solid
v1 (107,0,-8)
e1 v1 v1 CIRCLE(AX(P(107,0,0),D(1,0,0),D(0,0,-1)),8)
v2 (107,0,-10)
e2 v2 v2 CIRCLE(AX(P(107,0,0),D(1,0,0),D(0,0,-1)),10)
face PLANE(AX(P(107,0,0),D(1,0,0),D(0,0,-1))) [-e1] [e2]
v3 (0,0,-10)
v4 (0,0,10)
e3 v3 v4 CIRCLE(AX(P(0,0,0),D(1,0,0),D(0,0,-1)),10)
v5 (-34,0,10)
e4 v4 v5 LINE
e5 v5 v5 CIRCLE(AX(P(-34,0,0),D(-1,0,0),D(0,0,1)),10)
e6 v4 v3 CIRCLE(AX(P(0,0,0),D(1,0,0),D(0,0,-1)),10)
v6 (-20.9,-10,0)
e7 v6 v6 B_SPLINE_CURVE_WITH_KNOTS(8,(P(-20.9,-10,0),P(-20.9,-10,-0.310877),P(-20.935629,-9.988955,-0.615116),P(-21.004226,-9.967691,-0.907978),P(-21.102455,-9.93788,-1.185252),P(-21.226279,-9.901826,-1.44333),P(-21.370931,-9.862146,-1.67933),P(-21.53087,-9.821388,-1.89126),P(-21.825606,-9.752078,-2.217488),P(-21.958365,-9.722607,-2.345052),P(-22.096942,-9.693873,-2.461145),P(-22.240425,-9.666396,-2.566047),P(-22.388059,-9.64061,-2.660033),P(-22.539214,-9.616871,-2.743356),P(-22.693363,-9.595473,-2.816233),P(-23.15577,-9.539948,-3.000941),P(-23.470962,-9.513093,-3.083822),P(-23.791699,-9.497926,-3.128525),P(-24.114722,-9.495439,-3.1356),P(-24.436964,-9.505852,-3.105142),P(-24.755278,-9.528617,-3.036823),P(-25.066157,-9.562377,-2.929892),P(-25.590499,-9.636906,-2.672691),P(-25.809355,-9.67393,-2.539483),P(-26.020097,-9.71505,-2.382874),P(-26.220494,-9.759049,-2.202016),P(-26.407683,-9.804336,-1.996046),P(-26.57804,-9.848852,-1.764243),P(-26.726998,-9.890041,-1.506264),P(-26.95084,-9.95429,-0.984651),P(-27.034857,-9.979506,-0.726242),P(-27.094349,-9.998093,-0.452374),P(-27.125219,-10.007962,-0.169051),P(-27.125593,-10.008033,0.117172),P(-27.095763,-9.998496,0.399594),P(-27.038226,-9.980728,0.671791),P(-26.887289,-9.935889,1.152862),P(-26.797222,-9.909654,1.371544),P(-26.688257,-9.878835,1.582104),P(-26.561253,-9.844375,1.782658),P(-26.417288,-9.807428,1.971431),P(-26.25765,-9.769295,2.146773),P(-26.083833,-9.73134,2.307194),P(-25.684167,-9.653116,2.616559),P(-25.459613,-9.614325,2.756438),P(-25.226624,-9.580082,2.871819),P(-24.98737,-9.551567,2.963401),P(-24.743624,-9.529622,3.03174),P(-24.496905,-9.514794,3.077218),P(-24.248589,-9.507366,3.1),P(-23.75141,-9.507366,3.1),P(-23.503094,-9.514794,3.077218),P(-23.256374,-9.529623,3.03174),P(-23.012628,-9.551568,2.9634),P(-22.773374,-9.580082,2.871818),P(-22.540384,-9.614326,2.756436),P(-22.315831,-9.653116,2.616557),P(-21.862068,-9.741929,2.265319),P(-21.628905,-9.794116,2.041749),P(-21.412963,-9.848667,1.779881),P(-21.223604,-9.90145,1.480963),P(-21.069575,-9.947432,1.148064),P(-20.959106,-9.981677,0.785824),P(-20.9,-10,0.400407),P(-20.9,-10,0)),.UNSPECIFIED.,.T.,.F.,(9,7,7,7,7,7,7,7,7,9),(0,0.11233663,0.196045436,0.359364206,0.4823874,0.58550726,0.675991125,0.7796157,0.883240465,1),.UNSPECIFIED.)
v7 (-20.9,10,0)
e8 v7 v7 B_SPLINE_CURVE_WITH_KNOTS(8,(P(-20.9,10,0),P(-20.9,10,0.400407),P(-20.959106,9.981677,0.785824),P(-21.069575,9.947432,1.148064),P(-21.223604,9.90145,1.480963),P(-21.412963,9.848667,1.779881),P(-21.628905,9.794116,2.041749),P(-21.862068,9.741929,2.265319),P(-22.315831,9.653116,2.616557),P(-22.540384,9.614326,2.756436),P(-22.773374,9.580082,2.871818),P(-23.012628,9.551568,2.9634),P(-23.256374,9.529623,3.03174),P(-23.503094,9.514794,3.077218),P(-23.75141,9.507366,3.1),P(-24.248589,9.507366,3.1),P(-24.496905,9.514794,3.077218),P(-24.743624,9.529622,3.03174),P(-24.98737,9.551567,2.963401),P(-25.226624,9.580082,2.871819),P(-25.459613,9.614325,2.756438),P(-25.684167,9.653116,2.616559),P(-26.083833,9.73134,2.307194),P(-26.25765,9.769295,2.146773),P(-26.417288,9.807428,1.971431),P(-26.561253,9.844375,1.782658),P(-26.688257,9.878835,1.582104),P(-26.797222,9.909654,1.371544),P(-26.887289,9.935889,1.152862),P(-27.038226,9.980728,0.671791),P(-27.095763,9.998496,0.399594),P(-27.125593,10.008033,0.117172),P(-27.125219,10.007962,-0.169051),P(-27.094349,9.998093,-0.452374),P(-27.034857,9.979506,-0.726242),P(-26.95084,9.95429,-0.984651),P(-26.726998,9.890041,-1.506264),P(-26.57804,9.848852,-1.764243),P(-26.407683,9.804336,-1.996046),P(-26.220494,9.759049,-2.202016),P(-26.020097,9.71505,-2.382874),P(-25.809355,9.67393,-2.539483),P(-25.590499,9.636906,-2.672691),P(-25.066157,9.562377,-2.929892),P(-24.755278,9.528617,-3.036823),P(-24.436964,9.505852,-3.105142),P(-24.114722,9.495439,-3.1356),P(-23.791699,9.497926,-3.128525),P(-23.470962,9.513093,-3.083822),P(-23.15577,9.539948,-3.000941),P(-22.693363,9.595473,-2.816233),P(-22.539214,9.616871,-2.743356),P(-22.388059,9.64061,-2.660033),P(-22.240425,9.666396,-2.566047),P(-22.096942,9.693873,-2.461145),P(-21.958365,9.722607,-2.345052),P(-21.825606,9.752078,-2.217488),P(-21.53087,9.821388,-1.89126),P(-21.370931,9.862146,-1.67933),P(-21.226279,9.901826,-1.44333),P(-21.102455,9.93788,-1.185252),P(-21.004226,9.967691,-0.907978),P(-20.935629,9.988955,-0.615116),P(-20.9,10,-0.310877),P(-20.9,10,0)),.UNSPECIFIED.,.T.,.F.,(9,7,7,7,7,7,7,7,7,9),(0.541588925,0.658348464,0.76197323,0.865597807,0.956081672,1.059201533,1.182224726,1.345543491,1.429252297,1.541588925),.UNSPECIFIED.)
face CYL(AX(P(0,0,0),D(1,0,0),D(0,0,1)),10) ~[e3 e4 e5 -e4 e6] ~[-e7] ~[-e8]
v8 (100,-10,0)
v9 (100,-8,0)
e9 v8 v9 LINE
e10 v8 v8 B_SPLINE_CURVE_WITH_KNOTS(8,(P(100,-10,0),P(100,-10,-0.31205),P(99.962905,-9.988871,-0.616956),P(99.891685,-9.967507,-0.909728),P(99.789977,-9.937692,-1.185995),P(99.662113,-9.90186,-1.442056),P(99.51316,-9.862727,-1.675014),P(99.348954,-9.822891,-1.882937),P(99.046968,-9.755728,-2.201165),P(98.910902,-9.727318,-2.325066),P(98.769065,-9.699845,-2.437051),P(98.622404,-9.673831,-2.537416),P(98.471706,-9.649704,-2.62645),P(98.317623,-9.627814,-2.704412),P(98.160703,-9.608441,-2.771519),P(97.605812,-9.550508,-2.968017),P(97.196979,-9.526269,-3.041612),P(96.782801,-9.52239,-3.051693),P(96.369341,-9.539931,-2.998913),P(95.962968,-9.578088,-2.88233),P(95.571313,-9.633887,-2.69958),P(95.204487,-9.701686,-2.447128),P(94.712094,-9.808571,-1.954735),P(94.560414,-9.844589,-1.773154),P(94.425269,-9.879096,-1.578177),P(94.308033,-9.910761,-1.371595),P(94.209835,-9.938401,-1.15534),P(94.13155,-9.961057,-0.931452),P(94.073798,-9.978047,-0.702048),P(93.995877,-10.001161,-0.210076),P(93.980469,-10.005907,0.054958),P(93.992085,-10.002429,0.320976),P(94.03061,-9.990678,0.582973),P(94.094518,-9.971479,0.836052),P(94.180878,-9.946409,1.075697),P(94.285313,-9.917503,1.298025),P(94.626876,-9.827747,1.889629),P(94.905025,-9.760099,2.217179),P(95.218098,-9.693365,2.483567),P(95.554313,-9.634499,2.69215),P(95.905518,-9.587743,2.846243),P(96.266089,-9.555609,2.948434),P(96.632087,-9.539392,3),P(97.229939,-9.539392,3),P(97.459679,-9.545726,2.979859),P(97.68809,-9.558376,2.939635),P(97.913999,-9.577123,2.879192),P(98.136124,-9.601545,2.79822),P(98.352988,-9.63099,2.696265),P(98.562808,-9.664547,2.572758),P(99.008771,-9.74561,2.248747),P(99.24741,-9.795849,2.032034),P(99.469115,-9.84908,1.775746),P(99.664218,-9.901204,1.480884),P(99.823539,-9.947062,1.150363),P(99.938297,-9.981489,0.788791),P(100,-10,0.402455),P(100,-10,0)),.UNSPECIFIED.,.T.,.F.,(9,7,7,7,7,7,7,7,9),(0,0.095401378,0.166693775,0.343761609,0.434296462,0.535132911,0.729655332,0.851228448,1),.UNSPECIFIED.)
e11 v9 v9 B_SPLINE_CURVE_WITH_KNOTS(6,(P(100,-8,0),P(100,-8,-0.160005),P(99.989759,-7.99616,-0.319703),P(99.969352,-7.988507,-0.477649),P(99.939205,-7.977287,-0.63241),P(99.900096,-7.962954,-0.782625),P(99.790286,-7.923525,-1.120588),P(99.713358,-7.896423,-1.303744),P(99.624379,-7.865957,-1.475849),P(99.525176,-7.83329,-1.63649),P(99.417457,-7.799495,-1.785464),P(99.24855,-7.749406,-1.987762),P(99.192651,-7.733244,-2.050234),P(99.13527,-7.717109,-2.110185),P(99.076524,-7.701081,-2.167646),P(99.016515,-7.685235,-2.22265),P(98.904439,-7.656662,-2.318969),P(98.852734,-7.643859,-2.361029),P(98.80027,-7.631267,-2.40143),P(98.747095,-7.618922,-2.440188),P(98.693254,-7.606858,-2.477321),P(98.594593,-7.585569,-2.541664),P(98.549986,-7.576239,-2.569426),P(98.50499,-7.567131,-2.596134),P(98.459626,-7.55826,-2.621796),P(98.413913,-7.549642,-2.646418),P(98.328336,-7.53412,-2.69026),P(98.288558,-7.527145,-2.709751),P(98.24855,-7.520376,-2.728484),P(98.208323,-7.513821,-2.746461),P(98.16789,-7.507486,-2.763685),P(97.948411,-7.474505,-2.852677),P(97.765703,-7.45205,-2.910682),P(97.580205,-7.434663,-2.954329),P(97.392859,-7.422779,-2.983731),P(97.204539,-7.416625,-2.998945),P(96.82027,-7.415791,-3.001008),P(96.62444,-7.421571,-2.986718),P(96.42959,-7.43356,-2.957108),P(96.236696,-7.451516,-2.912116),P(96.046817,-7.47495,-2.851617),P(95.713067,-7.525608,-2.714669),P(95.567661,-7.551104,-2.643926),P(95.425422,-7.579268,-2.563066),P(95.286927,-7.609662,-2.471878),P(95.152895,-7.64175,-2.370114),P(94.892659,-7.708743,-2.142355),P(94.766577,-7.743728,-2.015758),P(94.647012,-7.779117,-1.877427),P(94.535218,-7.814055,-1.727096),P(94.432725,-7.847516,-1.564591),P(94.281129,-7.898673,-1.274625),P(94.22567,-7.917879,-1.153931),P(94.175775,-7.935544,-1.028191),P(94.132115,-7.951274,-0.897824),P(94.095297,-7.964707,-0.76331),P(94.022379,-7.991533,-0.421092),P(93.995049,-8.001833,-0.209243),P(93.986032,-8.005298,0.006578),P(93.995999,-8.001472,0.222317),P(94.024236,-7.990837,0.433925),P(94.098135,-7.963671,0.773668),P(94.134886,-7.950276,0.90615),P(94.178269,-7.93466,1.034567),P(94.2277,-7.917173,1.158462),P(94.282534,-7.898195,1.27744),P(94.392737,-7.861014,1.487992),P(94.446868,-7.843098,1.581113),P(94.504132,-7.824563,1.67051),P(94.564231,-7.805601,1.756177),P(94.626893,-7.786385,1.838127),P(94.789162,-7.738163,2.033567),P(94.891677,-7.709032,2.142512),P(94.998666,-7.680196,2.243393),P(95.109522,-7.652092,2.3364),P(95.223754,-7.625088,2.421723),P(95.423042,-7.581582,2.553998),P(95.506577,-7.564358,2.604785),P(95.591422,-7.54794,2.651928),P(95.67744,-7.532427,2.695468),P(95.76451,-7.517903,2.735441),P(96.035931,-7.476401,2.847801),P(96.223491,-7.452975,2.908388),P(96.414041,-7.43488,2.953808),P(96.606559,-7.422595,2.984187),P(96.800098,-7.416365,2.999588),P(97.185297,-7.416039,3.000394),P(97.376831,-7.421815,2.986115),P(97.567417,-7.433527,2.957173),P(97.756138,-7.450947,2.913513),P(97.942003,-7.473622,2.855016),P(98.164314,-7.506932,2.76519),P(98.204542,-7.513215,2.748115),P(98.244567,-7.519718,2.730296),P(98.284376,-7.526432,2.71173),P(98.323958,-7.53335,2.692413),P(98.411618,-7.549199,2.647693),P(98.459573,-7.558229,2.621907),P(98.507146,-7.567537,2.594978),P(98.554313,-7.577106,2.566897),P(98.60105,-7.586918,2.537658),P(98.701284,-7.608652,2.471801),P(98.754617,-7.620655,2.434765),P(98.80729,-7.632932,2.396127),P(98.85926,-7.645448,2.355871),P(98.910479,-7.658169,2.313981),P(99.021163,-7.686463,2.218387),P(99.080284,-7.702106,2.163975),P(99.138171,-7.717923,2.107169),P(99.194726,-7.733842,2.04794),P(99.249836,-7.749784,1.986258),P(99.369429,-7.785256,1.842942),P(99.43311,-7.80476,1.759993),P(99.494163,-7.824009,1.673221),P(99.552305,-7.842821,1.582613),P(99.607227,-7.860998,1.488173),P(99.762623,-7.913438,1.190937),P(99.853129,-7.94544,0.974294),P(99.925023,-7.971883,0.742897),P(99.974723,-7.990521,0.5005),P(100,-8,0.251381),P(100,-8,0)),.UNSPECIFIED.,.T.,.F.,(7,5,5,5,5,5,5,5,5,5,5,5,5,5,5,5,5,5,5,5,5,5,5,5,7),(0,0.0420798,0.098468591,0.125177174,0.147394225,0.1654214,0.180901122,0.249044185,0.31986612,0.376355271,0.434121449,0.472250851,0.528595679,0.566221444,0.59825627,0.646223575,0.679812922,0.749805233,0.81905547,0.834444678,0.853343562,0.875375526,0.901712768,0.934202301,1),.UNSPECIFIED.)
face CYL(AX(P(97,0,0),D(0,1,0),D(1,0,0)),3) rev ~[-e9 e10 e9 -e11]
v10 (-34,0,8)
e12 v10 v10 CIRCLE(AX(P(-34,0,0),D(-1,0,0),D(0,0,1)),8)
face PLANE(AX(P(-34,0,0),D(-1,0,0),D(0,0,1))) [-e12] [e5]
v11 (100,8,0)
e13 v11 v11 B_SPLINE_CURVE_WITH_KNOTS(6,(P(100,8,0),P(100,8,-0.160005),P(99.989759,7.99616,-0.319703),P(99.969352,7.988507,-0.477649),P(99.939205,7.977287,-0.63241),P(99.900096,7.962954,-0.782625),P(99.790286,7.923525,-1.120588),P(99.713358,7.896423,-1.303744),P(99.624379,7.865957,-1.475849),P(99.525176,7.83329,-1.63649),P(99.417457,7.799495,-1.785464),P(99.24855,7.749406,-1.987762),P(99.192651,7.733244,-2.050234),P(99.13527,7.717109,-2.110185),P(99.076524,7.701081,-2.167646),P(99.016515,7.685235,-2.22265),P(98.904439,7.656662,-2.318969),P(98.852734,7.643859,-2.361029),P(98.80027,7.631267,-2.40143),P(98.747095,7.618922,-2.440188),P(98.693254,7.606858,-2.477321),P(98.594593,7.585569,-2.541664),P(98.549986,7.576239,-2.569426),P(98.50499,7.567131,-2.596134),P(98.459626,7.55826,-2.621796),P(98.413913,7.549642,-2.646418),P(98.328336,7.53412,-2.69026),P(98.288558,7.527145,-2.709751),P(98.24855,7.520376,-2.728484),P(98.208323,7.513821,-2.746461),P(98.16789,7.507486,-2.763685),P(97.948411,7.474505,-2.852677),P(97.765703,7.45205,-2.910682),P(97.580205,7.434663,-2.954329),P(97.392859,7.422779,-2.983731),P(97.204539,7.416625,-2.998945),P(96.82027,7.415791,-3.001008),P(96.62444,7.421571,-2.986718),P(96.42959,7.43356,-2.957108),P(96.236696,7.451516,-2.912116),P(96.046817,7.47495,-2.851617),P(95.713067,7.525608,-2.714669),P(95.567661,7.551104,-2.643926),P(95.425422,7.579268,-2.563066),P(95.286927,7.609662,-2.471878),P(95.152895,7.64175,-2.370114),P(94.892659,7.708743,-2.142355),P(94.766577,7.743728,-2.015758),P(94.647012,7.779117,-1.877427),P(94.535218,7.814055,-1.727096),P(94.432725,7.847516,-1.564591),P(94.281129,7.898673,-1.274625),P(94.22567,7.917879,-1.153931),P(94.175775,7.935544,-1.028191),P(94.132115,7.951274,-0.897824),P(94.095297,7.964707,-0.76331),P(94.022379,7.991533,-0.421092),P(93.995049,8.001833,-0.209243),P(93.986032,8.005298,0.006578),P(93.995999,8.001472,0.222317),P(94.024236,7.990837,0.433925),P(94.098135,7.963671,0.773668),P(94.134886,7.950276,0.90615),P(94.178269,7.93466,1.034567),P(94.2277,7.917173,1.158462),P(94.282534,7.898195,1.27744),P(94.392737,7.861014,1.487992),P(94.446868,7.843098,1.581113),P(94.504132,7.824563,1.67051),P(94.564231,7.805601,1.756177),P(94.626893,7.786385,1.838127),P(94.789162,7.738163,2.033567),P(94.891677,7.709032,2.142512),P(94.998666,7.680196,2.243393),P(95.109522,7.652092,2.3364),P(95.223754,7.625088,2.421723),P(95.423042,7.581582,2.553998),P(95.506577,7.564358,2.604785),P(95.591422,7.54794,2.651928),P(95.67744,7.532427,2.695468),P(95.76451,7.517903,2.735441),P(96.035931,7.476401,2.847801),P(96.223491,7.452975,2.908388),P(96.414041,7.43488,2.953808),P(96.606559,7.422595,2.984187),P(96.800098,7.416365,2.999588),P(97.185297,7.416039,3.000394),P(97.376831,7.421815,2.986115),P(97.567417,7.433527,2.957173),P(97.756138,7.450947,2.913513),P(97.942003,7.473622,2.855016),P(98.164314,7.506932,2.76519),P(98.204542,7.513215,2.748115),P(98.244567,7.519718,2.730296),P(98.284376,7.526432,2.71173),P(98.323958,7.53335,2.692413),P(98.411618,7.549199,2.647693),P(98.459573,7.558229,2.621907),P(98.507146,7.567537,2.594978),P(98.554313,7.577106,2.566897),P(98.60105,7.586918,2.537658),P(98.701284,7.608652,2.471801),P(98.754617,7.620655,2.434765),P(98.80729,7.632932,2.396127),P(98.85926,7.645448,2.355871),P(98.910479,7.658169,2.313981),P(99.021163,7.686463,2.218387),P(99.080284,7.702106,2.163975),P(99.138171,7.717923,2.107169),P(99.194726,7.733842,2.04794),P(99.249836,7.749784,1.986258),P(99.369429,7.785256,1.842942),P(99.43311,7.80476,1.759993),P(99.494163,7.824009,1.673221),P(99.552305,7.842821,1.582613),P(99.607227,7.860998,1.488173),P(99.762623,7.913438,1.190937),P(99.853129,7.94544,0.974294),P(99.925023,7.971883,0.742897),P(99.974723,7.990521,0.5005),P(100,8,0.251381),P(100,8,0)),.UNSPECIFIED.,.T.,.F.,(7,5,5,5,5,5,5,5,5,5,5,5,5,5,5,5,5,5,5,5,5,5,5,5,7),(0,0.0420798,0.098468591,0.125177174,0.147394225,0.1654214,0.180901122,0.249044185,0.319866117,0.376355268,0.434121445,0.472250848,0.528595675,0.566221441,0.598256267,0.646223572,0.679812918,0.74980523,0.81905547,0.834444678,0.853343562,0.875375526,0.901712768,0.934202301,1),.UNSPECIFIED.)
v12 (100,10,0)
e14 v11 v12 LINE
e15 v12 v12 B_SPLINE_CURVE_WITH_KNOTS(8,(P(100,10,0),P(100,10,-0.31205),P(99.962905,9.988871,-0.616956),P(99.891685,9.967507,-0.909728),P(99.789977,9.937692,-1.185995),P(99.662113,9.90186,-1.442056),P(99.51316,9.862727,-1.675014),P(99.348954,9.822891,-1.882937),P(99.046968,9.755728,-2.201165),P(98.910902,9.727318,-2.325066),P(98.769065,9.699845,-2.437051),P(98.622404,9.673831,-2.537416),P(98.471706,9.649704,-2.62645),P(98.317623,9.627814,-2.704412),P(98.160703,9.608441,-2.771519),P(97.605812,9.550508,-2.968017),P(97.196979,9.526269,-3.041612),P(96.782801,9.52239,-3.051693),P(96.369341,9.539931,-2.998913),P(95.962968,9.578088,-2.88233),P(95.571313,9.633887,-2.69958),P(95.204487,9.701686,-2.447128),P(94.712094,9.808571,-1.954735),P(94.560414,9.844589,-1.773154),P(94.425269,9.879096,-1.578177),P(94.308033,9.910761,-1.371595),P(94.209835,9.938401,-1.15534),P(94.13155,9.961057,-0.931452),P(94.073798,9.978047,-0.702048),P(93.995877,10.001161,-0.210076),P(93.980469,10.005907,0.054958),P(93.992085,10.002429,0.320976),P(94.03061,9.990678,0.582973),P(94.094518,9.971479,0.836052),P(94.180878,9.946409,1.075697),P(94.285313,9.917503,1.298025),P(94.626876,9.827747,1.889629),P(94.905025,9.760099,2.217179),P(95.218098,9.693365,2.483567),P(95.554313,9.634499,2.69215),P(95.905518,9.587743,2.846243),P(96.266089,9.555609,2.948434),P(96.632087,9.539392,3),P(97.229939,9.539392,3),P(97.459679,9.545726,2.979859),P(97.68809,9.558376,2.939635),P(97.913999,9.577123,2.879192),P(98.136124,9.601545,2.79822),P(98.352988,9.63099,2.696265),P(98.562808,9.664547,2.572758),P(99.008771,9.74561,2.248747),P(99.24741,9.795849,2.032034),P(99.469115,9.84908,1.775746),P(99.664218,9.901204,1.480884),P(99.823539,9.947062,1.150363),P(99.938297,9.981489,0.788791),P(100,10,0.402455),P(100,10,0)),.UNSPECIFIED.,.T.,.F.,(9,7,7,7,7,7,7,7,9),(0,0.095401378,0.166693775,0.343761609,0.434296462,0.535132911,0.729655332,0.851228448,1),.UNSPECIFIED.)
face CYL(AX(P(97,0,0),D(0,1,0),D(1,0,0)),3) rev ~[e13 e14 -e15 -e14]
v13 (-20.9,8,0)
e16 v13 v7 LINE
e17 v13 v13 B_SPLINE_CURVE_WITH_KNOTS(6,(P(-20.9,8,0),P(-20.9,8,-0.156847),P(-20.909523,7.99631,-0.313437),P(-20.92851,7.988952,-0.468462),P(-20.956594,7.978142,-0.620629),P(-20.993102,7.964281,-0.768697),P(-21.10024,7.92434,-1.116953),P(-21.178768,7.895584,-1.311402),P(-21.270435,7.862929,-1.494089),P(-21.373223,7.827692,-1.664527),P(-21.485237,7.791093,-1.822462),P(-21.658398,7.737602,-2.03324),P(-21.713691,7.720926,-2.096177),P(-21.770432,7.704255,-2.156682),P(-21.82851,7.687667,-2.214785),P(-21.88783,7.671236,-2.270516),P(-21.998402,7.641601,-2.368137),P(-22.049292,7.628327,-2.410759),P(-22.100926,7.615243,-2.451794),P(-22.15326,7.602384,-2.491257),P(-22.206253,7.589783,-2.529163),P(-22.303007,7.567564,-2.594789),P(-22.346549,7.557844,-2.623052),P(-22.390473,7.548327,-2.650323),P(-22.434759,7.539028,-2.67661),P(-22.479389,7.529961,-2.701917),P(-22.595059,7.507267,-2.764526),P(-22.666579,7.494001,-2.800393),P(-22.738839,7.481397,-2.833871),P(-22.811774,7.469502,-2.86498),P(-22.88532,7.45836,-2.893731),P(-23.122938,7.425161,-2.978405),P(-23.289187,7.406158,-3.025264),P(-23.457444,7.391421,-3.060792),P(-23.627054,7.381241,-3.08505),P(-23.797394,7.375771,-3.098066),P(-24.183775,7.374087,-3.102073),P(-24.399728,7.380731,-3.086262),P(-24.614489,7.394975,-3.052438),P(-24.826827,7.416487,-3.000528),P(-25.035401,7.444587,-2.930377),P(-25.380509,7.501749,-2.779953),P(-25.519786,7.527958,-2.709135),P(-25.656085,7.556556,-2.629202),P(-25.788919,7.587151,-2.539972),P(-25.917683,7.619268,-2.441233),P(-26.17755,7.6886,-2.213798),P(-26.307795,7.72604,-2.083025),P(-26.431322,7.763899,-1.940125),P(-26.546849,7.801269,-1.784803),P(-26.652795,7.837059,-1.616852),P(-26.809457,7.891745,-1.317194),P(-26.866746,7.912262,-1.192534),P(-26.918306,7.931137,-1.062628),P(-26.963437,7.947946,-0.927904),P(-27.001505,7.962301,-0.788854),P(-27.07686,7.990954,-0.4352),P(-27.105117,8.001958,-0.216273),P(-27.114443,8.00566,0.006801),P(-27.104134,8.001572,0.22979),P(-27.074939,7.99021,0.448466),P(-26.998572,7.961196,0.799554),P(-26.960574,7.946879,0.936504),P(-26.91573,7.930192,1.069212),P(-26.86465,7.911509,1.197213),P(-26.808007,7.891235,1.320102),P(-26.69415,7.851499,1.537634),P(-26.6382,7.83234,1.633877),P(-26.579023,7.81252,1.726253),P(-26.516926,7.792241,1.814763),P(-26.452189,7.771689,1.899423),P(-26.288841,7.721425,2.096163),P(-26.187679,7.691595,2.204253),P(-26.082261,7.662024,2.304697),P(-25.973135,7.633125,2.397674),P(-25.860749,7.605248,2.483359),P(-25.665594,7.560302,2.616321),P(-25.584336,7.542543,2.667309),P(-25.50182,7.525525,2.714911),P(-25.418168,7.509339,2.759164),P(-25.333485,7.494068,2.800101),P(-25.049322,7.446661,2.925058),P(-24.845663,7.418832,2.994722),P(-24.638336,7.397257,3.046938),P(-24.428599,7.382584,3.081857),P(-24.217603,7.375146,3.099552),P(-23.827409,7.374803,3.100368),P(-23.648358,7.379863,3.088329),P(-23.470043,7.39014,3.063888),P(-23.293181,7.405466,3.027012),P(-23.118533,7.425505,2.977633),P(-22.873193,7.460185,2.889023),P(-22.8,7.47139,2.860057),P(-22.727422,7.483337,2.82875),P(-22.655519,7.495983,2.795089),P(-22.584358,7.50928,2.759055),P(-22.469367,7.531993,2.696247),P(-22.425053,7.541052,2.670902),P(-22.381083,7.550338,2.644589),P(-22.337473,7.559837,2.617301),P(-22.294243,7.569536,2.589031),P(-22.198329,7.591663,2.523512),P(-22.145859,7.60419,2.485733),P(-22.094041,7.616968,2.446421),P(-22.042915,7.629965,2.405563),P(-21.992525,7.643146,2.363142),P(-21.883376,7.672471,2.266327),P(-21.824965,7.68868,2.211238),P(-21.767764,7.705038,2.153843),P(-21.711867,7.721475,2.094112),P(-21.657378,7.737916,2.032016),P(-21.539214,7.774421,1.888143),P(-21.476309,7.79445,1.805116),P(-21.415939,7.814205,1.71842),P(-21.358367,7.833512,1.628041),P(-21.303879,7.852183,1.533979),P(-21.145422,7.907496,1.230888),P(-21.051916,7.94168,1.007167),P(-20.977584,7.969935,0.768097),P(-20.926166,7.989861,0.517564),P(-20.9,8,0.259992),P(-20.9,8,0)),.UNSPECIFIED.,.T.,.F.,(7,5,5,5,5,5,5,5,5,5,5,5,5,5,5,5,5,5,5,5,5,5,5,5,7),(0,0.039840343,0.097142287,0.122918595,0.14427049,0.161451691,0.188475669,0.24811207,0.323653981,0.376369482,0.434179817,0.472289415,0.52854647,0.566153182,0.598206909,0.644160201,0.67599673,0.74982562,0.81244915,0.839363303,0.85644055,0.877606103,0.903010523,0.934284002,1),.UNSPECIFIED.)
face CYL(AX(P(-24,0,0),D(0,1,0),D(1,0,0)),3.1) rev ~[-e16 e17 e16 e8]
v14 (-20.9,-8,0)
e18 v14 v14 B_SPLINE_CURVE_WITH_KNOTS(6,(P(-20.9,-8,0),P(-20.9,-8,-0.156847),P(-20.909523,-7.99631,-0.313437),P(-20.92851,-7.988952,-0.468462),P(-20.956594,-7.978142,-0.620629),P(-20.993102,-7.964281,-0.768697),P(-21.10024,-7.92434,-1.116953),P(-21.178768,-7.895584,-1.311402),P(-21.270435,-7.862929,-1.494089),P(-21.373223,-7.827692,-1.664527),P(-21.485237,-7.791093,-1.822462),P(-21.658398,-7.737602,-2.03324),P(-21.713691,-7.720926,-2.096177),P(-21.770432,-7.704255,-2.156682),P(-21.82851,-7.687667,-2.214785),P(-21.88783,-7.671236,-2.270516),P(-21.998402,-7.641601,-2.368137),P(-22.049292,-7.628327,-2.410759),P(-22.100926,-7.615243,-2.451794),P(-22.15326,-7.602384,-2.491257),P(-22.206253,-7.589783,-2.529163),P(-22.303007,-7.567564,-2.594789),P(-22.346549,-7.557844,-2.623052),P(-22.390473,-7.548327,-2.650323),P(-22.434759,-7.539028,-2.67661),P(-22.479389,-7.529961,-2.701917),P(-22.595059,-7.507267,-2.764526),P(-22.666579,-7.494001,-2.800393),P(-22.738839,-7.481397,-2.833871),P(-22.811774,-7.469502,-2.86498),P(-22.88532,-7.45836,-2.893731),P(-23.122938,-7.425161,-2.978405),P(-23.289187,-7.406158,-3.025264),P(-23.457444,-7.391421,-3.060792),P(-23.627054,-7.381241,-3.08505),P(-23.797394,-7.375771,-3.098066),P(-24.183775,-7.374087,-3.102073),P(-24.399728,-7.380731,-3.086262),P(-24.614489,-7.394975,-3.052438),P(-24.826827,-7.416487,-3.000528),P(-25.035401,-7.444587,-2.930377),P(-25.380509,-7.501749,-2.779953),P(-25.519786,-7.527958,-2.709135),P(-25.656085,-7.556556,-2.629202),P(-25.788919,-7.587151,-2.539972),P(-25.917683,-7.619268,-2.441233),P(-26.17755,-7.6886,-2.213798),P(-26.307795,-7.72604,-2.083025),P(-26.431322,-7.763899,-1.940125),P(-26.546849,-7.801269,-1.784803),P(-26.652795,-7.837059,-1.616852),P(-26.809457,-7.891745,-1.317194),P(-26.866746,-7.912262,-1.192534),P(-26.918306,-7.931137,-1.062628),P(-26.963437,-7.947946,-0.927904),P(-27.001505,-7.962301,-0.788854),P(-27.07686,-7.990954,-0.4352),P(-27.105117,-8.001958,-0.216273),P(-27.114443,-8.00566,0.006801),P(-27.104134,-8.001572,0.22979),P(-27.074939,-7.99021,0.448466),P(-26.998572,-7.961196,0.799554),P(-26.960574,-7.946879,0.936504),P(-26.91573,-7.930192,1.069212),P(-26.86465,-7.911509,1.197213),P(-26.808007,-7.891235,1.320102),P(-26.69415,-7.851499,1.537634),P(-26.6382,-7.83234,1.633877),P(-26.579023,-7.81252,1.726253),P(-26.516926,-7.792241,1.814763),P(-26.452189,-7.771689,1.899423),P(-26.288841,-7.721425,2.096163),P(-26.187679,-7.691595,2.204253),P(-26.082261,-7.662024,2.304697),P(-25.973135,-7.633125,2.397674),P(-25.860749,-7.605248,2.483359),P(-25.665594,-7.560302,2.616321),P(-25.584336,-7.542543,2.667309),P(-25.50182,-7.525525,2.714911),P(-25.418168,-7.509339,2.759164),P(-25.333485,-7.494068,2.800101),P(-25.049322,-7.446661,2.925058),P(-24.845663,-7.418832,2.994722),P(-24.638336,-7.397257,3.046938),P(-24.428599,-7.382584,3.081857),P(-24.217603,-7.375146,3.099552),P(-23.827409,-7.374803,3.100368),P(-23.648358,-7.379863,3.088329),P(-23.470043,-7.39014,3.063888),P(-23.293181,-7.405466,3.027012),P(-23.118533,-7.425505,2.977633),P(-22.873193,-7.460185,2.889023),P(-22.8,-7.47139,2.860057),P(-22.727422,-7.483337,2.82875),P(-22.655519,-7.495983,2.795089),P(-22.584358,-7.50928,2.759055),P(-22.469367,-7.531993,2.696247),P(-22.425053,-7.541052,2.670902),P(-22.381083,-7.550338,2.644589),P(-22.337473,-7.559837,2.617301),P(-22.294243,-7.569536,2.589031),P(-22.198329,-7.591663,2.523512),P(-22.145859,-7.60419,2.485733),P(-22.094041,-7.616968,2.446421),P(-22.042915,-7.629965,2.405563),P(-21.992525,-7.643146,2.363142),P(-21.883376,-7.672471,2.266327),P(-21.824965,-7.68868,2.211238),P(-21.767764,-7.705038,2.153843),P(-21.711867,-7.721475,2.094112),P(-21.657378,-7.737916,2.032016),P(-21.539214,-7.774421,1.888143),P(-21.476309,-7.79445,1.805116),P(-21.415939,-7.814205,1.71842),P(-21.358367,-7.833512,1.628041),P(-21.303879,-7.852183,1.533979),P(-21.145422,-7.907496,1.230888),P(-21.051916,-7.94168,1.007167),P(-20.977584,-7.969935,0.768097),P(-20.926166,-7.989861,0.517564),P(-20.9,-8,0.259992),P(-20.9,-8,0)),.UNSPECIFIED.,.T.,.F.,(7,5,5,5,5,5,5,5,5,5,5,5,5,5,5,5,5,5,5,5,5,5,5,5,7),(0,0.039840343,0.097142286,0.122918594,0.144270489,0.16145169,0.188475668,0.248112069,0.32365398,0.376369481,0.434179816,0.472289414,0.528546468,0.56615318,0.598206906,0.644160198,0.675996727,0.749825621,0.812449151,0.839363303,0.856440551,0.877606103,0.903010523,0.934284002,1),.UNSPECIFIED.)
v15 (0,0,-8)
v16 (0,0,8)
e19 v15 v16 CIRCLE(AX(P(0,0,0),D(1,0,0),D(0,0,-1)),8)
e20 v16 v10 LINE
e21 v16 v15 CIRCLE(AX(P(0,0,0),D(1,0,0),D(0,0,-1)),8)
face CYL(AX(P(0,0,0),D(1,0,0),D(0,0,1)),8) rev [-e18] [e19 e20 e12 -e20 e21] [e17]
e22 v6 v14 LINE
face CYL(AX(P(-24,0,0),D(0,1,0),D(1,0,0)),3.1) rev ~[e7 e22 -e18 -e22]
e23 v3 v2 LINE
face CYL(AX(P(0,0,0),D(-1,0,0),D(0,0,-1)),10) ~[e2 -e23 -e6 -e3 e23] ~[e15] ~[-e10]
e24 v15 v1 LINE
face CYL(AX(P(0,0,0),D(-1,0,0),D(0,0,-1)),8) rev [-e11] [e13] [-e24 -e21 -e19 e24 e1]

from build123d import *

# Parameters (mm, degrees)
SKETCH_1_R          = 10
SKETCH_1_R_2        = 8
EXTRUDE_1_DEPTH     = 107
SKETCH_2_R          = 10
SKETCH_2_R_2        = 8
EXTRUDE_2_DEPTH     = 34
SKETCH_3_R          = 3
CUT_EXTRUDE_1_DEPTH = 15
SKETCH_4_R          = 3.1
CUT_EXTRUDE_2_DEPTH = 10


with BuildPart() as part:
    # 草图1 → 凸台-拉伸1 (new body)
    with BuildSketch(Plane(origin=(0, 0, 0), x_dir=(0, 0, -1), z_dir=(1, 0, 0))):
        Circle(SKETCH_1_R)
        Circle(SKETCH_1_R_2, mode=Mode.SUBTRACT)
    extrude(amount=EXTRUDE_1_DEPTH)

    # 草图2 → 凸台-拉伸2 (add)
    with BuildSketch(Plane.ZY):
        Circle(SKETCH_2_R)
        Circle(SKETCH_2_R_2, mode=Mode.SUBTRACT)
    extrude(amount=EXTRUDE_2_DEPTH)

    # 草图3 → 切除-拉伸1 (cut, symmetric)
    with BuildSketch(Plane(origin=(0, 0, 0), x_dir=(1, 0, 0), z_dir=(0, 1, 0))):
        with Locations((97, 0)):
            Circle(SKETCH_3_R)
    extrude(amount=CUT_EXTRUDE_1_DEPTH, both=True, mode=Mode.SUBTRACT)

    # 草图4 → 切除-拉伸2 (cut, symmetric)
    with BuildSketch(Plane(origin=(0, 0, 0), x_dir=(1, 0, 0), z_dir=(0, 1, 0))):
        with Locations((-24, 0)):
            Circle(SKETCH_4_R)
    extrude(amount=CUT_EXTRUDE_2_DEPTH, both=True, mode=Mode.SUBTRACT)


solid = part.part
